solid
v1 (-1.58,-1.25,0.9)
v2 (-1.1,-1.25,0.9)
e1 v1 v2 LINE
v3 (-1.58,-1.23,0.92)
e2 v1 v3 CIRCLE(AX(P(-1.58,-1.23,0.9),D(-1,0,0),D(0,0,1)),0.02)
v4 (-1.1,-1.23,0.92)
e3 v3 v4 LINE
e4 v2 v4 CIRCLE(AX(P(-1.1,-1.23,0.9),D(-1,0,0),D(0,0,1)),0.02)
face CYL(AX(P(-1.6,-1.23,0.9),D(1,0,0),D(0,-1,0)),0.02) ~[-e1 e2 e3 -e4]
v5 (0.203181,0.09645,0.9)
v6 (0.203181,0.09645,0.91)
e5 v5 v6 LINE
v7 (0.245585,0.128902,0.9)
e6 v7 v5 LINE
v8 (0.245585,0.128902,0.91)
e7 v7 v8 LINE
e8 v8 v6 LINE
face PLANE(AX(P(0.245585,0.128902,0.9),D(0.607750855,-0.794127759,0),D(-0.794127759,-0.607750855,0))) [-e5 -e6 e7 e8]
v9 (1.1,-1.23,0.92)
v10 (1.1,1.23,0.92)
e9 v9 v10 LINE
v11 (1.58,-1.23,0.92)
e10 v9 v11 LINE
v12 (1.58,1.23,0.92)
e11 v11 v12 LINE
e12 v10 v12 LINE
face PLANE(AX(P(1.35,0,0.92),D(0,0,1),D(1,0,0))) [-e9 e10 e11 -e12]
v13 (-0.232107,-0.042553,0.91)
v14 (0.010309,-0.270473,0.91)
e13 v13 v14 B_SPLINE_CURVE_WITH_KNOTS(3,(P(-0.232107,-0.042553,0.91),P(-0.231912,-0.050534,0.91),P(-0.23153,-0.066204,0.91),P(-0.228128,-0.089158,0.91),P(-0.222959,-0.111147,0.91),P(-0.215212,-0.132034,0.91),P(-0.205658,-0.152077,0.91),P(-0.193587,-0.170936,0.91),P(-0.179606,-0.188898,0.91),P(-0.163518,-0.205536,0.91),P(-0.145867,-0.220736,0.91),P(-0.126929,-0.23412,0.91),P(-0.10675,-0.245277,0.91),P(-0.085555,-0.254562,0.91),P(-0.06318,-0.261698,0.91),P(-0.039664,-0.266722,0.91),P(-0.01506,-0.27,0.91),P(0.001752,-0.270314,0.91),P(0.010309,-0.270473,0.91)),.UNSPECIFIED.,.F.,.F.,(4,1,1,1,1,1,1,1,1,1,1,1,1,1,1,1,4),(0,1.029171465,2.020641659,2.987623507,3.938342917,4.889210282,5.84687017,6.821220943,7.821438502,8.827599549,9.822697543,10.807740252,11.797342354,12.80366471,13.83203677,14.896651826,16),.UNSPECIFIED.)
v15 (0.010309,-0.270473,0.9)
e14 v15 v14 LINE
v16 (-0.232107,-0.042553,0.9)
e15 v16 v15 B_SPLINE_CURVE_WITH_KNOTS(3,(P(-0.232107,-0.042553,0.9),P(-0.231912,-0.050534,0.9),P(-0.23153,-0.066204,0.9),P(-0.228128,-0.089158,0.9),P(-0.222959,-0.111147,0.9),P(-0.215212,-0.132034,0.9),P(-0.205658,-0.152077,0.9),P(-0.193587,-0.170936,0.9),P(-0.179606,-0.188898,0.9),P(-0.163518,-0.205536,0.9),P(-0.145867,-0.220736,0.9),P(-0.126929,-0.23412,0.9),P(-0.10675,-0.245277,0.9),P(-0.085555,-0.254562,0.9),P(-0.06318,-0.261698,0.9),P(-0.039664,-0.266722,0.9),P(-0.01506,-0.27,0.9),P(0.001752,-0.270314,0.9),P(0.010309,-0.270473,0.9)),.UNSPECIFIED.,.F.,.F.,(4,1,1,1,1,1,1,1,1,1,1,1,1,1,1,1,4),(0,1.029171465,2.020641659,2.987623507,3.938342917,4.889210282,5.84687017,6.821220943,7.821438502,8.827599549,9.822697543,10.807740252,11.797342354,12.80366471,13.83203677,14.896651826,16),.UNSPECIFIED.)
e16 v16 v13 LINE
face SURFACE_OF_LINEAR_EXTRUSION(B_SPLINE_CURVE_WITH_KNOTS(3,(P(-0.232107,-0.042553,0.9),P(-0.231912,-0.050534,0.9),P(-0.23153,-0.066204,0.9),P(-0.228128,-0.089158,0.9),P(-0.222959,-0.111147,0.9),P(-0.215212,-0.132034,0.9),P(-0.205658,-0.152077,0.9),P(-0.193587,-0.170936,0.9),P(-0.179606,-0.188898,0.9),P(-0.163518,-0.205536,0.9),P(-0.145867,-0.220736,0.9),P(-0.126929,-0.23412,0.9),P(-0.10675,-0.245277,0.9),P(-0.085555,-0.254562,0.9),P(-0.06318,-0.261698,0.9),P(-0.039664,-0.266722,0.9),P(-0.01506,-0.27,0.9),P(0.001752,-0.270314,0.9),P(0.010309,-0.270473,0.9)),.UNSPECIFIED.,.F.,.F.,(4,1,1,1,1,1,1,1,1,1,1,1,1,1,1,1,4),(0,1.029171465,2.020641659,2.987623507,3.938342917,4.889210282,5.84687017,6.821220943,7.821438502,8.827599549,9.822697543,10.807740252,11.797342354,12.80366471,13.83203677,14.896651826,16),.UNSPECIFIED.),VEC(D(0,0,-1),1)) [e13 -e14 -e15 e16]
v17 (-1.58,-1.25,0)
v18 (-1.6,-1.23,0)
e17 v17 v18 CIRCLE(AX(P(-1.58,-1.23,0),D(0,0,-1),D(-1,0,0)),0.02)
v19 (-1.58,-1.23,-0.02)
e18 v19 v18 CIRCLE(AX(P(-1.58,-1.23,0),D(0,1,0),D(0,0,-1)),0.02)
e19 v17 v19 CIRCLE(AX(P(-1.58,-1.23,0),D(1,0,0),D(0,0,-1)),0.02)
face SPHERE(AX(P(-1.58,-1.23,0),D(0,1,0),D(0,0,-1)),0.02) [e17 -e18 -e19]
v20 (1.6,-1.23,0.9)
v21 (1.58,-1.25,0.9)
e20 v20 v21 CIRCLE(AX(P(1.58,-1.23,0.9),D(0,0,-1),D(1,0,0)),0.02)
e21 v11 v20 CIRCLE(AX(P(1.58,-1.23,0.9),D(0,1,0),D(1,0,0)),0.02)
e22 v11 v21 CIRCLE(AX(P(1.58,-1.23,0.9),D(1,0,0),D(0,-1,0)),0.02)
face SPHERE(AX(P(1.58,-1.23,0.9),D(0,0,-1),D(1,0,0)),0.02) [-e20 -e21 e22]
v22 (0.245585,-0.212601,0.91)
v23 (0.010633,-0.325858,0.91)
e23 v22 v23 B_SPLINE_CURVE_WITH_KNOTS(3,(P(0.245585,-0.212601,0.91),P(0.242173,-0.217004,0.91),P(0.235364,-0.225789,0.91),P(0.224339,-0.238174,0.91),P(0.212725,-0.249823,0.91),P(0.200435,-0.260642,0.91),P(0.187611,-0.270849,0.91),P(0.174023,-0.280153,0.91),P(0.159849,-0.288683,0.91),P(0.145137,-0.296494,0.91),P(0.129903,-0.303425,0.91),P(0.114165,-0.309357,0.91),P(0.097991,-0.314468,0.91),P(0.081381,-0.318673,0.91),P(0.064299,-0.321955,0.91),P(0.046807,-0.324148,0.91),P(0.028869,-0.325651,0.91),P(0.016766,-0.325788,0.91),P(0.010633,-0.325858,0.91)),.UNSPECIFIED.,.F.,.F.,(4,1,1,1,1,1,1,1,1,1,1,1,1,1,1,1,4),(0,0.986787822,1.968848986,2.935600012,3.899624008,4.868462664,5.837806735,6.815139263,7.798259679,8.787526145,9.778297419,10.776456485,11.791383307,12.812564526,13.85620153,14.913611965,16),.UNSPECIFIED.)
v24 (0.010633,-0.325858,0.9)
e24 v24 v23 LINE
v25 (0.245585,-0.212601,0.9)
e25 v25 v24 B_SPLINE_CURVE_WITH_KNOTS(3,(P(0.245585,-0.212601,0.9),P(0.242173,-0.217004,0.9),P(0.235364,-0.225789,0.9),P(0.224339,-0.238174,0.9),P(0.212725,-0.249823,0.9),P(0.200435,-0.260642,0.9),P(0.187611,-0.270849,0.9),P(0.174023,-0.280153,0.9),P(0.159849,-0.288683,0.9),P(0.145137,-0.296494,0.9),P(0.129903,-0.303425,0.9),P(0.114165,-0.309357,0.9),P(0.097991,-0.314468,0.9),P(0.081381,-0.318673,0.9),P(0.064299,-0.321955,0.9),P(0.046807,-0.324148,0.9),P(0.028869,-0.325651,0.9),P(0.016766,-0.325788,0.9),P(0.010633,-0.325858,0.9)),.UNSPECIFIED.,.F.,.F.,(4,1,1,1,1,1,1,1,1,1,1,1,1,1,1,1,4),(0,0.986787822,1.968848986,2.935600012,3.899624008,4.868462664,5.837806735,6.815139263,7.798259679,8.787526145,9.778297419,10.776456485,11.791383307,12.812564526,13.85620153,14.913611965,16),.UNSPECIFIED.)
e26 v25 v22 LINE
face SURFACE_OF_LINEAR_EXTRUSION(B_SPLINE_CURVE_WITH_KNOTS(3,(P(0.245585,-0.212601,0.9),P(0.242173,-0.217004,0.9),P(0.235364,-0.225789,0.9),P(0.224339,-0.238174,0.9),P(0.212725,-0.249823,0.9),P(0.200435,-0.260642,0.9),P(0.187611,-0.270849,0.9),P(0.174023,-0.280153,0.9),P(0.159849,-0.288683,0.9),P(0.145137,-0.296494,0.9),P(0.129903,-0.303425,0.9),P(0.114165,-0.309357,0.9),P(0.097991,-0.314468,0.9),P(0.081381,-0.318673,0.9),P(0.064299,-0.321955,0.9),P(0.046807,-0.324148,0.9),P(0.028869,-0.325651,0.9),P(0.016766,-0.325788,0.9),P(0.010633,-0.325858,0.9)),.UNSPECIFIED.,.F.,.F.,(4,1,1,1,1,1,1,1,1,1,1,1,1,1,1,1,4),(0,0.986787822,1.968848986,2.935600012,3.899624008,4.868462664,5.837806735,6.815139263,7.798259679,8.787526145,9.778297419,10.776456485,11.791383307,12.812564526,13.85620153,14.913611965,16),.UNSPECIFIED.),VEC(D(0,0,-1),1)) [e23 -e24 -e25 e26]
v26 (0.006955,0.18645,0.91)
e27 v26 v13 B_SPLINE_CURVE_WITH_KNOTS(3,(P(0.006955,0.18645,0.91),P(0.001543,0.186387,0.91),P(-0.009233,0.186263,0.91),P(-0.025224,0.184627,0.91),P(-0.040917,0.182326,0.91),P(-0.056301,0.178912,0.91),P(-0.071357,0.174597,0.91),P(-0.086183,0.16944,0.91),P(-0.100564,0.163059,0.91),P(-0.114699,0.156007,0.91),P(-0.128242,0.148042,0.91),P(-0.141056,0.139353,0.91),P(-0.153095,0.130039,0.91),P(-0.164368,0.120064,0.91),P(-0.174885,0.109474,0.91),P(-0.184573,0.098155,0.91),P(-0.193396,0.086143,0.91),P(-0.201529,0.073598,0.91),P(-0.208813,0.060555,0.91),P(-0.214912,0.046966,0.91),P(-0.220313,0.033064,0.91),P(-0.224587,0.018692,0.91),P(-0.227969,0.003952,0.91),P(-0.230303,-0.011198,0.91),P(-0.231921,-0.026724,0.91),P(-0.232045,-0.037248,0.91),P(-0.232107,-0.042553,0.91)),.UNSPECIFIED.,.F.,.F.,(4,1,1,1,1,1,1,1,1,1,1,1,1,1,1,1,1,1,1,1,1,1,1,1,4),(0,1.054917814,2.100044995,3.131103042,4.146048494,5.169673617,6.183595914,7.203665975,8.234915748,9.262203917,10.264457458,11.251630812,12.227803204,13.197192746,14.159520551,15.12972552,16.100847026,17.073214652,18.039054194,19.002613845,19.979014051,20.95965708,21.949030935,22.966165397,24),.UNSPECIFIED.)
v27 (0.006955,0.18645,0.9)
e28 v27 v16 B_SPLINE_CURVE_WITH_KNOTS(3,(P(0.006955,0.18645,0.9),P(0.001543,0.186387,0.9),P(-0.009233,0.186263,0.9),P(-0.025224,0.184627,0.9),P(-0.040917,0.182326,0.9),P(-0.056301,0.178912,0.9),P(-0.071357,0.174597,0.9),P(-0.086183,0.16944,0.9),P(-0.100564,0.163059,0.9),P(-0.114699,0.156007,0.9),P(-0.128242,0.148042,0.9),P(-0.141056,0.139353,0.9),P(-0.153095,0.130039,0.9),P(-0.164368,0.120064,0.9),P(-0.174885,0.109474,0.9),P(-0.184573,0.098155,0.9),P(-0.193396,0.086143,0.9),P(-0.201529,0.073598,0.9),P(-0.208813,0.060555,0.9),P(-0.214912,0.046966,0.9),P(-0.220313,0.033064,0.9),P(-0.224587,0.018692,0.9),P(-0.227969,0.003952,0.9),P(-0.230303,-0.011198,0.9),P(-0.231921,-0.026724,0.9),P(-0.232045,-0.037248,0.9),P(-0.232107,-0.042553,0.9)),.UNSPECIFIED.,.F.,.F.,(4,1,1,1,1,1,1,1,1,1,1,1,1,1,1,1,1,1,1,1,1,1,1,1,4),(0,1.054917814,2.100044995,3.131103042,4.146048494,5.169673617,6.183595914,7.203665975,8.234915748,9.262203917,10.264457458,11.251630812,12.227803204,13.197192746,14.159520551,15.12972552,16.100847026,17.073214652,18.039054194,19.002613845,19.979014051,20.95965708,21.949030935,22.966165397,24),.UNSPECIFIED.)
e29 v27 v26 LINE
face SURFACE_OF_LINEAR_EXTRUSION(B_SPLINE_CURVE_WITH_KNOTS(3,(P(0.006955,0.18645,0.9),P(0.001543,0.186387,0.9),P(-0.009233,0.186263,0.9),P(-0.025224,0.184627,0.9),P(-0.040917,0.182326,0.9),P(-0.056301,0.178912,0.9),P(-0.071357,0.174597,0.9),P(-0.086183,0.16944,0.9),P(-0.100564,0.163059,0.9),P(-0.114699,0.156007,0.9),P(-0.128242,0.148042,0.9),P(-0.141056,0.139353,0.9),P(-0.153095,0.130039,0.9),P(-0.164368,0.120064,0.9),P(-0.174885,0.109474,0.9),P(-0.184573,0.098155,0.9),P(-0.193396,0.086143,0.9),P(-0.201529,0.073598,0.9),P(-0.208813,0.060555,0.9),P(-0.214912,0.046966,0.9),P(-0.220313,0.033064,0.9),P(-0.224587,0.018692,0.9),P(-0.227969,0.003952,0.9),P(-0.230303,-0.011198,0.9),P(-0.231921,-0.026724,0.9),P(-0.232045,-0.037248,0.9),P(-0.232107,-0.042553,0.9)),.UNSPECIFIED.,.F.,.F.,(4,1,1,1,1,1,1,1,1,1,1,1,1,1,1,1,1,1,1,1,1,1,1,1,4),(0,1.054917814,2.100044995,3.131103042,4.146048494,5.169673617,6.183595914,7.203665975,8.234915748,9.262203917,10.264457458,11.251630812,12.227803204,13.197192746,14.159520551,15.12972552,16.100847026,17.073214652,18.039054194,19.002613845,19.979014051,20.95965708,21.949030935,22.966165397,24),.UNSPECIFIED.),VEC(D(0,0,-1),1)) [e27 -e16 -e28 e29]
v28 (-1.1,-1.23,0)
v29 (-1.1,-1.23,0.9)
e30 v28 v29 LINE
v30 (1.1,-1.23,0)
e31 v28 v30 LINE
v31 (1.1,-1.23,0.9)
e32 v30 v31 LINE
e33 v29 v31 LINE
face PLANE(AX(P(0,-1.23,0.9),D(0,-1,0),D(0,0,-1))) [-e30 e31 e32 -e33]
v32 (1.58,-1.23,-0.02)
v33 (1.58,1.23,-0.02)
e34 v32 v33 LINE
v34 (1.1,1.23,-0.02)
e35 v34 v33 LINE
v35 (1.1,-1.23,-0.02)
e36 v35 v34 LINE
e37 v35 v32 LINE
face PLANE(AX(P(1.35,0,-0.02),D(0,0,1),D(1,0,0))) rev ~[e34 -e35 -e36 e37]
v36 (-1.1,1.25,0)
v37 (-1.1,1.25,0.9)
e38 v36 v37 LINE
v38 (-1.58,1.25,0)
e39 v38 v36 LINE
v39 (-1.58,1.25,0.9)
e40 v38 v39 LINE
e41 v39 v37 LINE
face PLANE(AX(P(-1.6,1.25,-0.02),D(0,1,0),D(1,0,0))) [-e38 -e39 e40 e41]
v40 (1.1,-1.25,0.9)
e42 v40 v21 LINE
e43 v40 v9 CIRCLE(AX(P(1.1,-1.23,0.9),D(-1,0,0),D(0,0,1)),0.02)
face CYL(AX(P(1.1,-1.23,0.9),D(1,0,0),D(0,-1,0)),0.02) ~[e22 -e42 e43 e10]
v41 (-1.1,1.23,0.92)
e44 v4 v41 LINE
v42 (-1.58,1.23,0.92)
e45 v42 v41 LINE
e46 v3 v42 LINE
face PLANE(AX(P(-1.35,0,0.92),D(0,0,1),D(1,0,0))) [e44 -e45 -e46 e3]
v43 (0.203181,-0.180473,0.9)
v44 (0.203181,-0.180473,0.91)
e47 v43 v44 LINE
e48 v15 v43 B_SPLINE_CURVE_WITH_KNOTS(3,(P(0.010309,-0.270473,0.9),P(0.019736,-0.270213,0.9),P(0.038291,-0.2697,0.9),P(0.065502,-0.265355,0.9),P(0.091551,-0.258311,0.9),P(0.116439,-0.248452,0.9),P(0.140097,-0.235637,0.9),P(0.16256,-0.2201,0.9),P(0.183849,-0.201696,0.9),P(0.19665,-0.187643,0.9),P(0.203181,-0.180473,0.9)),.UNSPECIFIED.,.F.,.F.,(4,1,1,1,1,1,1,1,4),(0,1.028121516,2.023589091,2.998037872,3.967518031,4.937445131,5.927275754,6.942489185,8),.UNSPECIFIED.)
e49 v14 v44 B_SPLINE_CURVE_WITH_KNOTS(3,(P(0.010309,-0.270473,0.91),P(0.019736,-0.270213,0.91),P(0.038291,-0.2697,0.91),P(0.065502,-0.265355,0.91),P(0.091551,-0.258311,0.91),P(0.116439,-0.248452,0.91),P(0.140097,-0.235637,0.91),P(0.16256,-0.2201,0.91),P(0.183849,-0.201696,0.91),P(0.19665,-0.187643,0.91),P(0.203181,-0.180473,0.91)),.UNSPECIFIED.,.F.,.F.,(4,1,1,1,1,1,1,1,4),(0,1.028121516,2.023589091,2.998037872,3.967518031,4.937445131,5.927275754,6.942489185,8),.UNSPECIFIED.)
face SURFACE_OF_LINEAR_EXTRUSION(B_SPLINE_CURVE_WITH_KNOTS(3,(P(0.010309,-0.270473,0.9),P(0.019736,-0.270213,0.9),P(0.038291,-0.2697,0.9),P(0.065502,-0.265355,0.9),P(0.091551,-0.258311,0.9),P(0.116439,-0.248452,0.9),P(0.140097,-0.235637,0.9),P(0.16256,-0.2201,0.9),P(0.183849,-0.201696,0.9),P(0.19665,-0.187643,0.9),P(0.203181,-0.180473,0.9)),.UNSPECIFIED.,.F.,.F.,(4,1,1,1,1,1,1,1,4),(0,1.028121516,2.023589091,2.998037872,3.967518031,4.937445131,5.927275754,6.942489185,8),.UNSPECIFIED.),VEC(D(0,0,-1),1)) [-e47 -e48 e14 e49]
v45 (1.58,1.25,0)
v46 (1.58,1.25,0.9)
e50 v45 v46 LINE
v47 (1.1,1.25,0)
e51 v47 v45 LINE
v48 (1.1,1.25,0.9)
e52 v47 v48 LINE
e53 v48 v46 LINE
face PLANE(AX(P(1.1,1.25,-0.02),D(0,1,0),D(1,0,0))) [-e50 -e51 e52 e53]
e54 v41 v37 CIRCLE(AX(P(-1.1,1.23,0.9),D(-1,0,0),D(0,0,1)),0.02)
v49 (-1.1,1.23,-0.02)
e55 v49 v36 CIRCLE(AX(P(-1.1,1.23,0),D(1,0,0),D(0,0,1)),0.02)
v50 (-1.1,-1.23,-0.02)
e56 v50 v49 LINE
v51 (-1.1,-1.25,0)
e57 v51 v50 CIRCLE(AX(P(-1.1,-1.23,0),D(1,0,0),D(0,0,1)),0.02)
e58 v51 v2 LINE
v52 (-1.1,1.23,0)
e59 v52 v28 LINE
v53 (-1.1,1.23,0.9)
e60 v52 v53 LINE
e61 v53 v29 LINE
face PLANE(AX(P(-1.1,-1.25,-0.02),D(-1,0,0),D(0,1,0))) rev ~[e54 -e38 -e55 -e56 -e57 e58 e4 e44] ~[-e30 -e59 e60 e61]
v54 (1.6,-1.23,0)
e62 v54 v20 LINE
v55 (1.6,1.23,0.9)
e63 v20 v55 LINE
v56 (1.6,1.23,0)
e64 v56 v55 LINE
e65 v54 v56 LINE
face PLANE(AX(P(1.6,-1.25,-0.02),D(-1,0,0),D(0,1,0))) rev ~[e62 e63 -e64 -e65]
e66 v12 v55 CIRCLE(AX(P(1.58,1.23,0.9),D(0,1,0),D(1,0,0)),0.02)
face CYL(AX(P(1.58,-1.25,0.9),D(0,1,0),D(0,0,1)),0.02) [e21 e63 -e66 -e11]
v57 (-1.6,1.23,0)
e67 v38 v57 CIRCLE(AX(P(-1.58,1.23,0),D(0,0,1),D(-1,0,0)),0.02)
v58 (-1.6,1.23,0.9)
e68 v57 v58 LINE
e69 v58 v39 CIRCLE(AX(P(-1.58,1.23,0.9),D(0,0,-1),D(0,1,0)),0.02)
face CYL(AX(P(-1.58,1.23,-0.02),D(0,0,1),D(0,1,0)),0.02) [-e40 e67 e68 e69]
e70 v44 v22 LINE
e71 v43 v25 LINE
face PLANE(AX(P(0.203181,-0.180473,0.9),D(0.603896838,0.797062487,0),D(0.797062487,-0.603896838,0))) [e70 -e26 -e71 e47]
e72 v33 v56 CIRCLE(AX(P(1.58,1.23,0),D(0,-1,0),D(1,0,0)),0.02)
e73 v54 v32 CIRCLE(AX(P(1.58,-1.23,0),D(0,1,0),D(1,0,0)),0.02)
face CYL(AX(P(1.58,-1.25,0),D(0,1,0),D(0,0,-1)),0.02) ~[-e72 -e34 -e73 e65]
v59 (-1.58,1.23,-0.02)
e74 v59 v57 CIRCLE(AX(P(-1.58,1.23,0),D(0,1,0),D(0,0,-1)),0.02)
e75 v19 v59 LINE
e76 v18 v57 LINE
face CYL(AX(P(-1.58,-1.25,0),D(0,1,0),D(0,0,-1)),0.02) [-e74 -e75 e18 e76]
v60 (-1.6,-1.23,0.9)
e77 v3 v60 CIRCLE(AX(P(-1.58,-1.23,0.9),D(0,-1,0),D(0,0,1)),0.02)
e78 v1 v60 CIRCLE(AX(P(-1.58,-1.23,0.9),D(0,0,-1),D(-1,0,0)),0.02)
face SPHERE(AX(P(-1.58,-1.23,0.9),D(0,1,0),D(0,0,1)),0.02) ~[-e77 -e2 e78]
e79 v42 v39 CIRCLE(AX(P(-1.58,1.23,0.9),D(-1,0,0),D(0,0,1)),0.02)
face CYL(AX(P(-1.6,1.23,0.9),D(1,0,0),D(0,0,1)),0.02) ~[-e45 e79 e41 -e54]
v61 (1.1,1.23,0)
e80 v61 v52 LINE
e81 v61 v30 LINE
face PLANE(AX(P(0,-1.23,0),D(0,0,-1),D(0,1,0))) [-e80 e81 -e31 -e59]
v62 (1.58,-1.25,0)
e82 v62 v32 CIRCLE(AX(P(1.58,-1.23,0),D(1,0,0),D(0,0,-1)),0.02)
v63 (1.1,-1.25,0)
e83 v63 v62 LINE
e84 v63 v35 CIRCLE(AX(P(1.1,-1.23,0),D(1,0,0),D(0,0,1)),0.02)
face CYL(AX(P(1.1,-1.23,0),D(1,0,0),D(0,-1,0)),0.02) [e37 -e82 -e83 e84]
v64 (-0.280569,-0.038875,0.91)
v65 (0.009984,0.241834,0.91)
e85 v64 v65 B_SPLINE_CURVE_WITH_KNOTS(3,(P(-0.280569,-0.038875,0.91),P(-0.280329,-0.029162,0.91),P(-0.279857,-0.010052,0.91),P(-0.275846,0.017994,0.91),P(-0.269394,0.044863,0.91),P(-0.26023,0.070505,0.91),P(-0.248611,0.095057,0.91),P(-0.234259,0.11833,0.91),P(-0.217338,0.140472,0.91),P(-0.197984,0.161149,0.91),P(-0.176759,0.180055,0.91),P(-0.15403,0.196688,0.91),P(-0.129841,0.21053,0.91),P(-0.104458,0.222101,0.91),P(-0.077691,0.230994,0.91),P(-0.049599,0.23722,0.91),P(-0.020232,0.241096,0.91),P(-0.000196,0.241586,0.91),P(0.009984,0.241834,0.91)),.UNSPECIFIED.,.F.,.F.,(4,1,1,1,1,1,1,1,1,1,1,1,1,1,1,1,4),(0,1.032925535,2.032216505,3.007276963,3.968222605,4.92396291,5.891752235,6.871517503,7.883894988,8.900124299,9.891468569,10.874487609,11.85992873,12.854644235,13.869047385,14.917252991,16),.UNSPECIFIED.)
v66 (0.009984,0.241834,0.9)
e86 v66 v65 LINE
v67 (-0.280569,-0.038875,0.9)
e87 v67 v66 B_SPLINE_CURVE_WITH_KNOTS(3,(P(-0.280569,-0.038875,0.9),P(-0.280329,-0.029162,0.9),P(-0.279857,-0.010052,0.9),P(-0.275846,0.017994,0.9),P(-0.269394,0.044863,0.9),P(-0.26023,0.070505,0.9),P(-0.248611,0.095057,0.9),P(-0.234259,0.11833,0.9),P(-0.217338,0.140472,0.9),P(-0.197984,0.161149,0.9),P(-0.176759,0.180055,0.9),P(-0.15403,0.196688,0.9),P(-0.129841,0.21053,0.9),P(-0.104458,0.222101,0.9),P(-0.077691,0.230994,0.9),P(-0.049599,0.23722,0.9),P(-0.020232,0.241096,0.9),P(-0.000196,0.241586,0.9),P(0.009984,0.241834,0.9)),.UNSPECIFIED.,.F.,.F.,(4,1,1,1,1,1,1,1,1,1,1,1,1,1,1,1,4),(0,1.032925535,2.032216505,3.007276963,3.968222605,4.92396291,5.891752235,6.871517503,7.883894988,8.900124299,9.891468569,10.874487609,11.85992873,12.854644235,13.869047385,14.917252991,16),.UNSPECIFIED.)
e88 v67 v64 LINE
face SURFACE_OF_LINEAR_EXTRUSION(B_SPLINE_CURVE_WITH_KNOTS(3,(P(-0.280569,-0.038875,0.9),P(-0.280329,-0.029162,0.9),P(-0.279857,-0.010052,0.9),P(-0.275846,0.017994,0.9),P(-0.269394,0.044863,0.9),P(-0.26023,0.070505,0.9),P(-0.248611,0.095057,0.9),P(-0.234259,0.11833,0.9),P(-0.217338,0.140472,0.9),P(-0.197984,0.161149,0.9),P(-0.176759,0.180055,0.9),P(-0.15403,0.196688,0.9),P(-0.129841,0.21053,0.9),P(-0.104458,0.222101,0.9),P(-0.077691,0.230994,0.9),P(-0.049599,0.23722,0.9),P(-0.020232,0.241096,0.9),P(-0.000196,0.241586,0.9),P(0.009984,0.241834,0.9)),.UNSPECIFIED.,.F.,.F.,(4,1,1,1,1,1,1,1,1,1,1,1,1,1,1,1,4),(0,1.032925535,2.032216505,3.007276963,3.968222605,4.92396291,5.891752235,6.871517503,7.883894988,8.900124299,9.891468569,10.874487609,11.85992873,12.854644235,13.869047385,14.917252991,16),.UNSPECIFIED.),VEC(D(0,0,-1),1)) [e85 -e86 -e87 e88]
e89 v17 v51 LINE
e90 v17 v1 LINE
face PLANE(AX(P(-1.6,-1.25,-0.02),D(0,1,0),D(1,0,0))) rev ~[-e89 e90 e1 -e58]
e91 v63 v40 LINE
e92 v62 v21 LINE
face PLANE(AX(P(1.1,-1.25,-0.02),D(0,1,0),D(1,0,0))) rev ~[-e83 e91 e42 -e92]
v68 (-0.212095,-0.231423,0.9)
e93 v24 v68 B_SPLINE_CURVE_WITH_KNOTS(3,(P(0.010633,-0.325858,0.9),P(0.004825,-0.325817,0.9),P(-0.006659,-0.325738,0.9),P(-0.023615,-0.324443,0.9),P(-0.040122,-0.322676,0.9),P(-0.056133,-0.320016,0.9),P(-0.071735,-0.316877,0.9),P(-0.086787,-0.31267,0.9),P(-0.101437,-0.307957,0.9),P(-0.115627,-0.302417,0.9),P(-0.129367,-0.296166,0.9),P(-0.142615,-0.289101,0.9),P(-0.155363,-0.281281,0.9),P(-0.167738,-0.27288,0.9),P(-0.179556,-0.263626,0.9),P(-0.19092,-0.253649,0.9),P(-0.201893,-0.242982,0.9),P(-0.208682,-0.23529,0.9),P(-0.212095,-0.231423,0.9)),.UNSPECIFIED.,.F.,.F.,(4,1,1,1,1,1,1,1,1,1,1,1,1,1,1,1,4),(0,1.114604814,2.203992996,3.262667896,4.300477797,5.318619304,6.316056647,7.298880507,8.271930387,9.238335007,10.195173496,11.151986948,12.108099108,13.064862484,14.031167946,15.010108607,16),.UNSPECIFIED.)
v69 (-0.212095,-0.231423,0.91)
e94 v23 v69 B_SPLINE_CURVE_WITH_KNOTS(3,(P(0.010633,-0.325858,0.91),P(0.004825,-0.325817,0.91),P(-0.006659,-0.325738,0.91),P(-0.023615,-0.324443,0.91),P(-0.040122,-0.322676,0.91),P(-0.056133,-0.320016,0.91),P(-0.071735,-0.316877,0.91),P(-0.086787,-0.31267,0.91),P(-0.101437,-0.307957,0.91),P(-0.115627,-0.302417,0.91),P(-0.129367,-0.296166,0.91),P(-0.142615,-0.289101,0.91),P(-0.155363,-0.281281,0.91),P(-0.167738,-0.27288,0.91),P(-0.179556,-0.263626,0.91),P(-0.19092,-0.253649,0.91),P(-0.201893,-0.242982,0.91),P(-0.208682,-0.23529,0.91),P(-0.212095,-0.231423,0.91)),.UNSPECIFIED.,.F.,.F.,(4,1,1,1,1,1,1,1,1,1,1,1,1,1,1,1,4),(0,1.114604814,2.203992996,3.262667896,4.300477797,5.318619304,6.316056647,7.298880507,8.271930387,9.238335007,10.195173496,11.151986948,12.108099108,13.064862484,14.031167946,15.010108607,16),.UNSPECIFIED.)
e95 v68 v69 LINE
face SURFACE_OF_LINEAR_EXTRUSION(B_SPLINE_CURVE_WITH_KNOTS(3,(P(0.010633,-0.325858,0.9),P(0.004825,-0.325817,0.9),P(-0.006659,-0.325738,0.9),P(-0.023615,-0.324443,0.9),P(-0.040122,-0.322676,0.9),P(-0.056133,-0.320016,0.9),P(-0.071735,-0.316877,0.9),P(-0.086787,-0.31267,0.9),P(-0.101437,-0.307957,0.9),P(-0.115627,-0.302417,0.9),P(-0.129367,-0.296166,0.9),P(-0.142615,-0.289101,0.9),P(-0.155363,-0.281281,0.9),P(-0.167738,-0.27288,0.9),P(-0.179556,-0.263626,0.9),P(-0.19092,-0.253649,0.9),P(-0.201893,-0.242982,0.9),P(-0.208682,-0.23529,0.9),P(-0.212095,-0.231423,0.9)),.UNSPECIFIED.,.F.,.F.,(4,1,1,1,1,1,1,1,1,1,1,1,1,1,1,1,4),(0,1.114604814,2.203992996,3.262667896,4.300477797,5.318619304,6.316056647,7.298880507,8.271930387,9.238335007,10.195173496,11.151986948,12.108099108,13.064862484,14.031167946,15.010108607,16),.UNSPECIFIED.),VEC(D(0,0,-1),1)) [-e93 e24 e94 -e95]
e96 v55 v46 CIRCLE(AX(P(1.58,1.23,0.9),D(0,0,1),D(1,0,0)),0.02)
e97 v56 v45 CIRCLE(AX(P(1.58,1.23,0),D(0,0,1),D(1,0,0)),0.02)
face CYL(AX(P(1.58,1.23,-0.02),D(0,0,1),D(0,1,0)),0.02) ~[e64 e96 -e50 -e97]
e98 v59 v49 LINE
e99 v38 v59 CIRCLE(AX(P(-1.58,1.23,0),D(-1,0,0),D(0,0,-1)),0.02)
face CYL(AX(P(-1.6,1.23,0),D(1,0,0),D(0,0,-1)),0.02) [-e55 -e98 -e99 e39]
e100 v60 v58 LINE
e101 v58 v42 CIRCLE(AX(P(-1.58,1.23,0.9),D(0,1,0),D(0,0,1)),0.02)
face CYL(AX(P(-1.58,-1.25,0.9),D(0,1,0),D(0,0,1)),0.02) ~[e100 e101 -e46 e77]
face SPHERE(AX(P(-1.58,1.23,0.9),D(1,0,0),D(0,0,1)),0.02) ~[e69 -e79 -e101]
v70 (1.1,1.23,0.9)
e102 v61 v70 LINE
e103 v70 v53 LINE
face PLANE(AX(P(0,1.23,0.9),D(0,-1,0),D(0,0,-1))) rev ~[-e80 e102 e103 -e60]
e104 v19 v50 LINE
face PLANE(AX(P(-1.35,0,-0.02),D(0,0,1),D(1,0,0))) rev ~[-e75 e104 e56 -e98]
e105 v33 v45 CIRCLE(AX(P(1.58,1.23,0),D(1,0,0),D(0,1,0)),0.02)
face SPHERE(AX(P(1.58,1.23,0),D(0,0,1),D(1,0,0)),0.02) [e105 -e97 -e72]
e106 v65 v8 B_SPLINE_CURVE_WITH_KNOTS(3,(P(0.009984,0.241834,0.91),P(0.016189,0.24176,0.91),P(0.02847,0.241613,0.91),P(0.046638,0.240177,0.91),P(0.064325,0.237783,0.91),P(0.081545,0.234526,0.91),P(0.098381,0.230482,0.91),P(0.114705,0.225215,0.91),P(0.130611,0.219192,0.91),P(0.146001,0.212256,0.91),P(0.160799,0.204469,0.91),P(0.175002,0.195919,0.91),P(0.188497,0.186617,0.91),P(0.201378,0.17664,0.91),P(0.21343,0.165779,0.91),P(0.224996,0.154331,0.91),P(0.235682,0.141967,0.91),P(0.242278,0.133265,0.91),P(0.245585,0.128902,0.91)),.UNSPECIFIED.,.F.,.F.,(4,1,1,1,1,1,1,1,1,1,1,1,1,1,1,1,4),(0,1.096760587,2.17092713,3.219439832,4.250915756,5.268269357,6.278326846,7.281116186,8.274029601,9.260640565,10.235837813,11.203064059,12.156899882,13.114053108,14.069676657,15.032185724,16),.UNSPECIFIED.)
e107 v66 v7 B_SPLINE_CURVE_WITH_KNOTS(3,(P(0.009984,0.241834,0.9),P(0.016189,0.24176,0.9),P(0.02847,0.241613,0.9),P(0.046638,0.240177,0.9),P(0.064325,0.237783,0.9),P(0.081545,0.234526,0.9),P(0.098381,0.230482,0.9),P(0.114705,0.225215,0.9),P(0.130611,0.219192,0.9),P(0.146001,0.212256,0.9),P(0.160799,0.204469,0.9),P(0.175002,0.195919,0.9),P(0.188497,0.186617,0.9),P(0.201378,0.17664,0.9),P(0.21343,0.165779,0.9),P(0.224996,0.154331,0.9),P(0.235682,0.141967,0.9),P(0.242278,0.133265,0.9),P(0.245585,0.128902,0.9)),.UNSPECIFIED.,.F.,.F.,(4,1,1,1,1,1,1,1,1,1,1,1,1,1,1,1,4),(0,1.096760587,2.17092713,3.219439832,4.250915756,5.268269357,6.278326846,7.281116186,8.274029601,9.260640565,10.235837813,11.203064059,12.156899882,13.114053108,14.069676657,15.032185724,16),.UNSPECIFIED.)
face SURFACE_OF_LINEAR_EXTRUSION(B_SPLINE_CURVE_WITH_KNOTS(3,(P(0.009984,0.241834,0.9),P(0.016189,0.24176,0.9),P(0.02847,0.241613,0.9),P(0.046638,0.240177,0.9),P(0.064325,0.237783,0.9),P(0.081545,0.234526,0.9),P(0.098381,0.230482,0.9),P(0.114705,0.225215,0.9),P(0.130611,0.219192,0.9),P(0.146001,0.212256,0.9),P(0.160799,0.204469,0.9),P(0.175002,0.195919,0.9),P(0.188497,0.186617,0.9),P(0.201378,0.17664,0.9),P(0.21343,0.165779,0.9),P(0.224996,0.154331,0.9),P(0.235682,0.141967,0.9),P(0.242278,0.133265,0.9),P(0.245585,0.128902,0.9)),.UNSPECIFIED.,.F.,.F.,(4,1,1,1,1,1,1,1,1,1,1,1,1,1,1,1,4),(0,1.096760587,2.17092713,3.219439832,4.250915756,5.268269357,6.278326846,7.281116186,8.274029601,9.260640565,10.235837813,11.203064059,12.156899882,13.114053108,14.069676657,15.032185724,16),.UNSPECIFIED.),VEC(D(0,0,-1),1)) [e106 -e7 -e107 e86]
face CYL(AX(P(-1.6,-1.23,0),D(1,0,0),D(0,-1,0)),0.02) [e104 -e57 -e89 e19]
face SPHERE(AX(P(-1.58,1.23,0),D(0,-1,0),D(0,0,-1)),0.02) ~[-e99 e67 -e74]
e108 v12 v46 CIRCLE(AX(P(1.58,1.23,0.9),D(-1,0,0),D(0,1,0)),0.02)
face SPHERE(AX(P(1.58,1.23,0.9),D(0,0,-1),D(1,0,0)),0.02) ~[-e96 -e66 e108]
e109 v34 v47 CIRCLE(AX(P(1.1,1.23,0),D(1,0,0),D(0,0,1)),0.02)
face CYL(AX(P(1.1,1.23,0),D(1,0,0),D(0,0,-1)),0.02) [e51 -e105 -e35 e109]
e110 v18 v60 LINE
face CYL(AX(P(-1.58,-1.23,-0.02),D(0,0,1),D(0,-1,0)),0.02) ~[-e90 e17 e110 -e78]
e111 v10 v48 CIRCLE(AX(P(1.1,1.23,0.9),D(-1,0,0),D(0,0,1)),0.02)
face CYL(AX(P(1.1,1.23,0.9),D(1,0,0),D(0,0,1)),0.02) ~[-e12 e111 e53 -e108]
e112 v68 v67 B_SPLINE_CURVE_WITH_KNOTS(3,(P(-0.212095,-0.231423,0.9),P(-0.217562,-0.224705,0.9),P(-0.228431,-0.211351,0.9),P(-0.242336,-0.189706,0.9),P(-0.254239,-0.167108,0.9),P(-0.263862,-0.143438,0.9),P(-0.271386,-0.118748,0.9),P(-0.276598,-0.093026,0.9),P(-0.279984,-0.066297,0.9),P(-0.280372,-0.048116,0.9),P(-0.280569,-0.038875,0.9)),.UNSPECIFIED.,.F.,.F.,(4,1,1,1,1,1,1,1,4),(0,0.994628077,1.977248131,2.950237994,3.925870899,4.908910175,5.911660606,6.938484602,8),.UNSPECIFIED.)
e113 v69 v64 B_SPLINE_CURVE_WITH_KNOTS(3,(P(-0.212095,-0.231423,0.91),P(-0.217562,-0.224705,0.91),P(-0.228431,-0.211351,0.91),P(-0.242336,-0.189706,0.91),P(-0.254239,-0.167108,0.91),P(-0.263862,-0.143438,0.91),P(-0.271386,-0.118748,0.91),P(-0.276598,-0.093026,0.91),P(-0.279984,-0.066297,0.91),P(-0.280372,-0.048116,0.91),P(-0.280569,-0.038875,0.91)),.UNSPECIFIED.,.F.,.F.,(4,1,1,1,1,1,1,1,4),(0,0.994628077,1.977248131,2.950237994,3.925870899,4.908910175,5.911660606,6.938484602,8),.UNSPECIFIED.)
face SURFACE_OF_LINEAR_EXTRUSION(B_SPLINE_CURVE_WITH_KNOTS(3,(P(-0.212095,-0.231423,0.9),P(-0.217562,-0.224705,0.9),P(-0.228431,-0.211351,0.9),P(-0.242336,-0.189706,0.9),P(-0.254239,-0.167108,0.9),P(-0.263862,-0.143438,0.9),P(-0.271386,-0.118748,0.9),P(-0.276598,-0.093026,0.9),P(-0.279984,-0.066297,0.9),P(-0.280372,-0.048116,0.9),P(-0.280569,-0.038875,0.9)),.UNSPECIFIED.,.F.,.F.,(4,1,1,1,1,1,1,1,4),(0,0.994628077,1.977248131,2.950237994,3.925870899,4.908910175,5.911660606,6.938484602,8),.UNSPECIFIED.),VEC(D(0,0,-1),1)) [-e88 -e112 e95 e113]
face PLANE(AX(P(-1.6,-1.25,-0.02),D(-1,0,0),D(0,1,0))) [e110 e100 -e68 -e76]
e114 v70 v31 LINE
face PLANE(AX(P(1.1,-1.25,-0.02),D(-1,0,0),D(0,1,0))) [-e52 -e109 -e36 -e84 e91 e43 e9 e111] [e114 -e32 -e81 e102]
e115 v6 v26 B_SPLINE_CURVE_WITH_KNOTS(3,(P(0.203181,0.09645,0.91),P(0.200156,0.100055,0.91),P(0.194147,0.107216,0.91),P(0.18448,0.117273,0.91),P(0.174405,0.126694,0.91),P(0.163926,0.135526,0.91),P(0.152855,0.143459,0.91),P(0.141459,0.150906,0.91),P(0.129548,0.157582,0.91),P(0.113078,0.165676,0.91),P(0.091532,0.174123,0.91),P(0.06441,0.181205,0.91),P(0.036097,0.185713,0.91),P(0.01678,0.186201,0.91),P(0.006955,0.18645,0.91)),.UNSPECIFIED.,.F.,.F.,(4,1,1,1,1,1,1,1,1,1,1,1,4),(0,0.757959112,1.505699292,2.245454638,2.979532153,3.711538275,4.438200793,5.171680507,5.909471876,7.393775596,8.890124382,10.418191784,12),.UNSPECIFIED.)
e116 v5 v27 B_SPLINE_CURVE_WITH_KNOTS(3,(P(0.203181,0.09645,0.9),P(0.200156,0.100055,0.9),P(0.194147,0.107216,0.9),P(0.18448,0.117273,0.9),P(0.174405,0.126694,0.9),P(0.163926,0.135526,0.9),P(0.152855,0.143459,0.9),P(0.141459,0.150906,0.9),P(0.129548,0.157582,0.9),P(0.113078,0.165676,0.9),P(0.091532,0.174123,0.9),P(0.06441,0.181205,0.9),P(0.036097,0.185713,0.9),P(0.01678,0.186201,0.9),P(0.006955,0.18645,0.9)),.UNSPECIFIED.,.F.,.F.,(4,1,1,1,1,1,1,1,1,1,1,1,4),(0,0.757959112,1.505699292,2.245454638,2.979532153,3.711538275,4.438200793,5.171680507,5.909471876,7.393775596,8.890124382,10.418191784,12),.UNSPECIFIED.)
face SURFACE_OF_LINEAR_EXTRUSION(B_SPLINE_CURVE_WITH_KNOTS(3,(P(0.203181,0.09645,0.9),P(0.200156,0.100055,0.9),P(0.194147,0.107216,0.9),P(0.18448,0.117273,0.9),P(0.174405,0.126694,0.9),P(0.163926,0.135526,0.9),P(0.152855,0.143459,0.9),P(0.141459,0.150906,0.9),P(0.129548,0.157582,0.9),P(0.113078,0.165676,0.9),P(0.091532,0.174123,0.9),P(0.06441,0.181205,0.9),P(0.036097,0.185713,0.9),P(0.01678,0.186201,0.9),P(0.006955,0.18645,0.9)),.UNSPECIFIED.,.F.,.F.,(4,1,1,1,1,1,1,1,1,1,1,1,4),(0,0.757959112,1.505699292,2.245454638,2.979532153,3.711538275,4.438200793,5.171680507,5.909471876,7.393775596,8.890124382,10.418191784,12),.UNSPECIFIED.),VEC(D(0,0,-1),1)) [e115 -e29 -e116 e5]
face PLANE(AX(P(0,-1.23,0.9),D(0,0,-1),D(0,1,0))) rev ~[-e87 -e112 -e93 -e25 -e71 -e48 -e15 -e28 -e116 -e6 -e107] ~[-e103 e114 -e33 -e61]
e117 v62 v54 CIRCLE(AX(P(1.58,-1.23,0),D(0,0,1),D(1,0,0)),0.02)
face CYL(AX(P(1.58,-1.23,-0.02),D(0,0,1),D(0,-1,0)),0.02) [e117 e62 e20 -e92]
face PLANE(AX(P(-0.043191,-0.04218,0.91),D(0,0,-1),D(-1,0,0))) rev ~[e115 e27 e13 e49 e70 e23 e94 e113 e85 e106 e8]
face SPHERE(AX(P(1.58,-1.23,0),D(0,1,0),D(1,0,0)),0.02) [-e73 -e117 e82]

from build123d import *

# Parameters (mm, degrees)
EXTRUDE_1_DEPTH        = 0.92
EXTRUDE_1_DEPTH_BACK   = 0.02
SKETCH_3_W             = 0.5
SKETCH_3_H             = 2.5
EXTRUDE_1_2_DEPTH      = 0.92
EXTRUDE_1_2_DEPTH_BACK = 0.02
SKETCH_5_W             = 0.9
SKETCH_5_H             = 2.46
EXTRUDE_3_DEPTH        = 1.11
FILLET_3_R             = 0.02
EXTRUDE_4_DEPTH        = 0.01


with BuildPart() as part:
    # 草图3 → 凸台-拉伸1 (new, two sides: drawn at the far end of the back side and taken through both)
    with BuildSketch(Plane.XY.offset(-EXTRUDE_1_DEPTH_BACK)):
        with Locations((-1.35, 0)):
            Rectangle(SKETCH_3_W, SKETCH_3_H)
    extrude(amount=EXTRUDE_1_DEPTH + EXTRUDE_1_DEPTH_BACK)



with BuildPart() as body_2:
    # 草图3 → Extrude 1 2 (new, two sides: drawn at the far end of the back side and taken through both)
    with BuildSketch(Plane.XY.offset(-EXTRUDE_1_2_DEPTH_BACK)):
        with Locations((1.35, 0)):
            Rectangle(SKETCH_3_W, SKETCH_3_H)
    extrude(amount=EXTRUDE_1_2_DEPTH + EXTRUDE_1_2_DEPTH_BACK)


with BuildPart() as part_1:
    add(part.part)

    add(body_2.part)  # 凸台-拉伸3 merges body 2
    # 草图5 → 凸台-拉伸3 (add, symmetric)
    with BuildSketch(Plane(origin=(0, 0, 0), x_dir=(0, 0, -1), z_dir=(1, 0, 0))):
        with Locations((-0.45, 0)):
            Rectangle(SKETCH_5_W, SKETCH_5_H)
    extrude(amount=EXTRUDE_3_DEPTH, both=True)

    # 圆角3
    fillet_3_edges = [part_1.edges().sort_by_distance(p)[0] for p in [
        (-1.6, 0, -0.02),
        (-1.35, 1.25, 0.92),
        (-1.35, -1.25, -0.02),
        (-1.6, 0, 0.92),
        (-1.35, -1.25, 0.92),
        (1.6, 1.25, 0.45),
        (1.6, 0, -0.02),
        (1.6, -1.25, 0.45),
        (1.35, -1.25, -0.02),
        (1.35, 1.25, -0.02),
        (1.6, 0, 0.92),
        (1.35, 1.25, 0.92),
        (1.35, -1.25, 0.92),
        (-1.35, 1.25, -0.02),
        (-1.6, -1.25, 0.45),
        (-1.6, 1.25, 0.45),
    ]]
    fillet(fillet_3_edges, radius=FILLET_3_R)

    # 草图6 → 凸台-拉伸4 (add)
    with BuildSketch(Plane.XY.offset(0.9)):
        with BuildLine():
            Line((0.245585191, 0.128901731), (0.203181345, 0.096449807))
            add(Edge.make_bspline(
                [(0.203181345, 0.096449807), (0.200156436, 0.100054843), (0.194147402, 0.10721631), (0.184479982, 0.117272582), (0.174404871, 0.12669408), (0.163925921, 0.135525684), (0.152854514, 0.143458557), (0.141458848, 0.150906098), (0.129548292, 0.157581692), (0.113078025, 0.165675981), (0.091532357, 0.174122531), (0.064409724, 0.181204744), (0.036096583, 0.185713154), (0.016780382, 0.186201444), (0.006955383, 0.186449807)],
                knots=[0, 0, 0, 0, 0.757959112, 1.505699292, 2.245454638, 2.979532153, 3.711538275, 4.438200793, 5.171680507, 5.909471876, 7.393775596, 8.890124382, 10.418191784, 12, 12, 12, 12], degree=3))
            add(Edge.make_bspline(
                [(0.006955383, 0.186449807), (0.001542531, 0.186387482), (-0.009232936, 0.186263409), (-0.025224415, 0.184626573), (-0.040917286, 0.182325986), (-0.05630134, 0.178912365), (-0.071356997, 0.174596589), (-0.086182682, 0.169439525), (-0.100563746, 0.163059064), (-0.114699131, 0.156006933), (-0.128242209, 0.148041555), (-0.141056417, 0.13935321), (-0.153095018, 0.130039121), (-0.164367535, 0.120064378), (-0.174885493, 0.109473905), (-0.184572678, 0.098154835), (-0.19339557, 0.086143356), (-0.201529053, 0.073597859), (-0.208813304, 0.060554886), (-0.214912199, 0.046966161), (-0.22031299, 0.033064385), (-0.224586587, 0.018692491), (-0.227969227, 0.003951607), (-0.230303209, -0.011197828), (-0.23192143, -0.026724168), (-0.232044886, -0.03724789), (-0.232107117, -0.042552596)],
                knots=[0, 0, 0, 0, 1.054917814, 2.100044995, 3.131103042, 4.146048494, 5.169673617, 6.183595914, 7.203665975, 8.234915748, 9.262203917, 10.264457458, 11.251630812, 12.227803204, 13.197192746, 14.159520551, 15.12972552, 16.100847026, 17.073214652, 18.039054194, 19.002613845, 19.979014051, 20.95965708, 21.949030935, 22.966165397, 24, 24, 24, 24], degree=3))
            add(Edge.make_bspline(
                [(-0.232107117, -0.042552596), (-0.231912436, -0.050534), (-0.231530207, -0.066204427), (-0.228128464, -0.089157607), (-0.222959107, -0.111146511), (-0.215211561, -0.132033687), (-0.205658336, -0.152076691), (-0.193586927, -0.1709364), (-0.17960609, -0.188897812), (-0.163518036, -0.205536439), (-0.145866853, -0.220735699), (-0.126928604, -0.234120074), (-0.106750457, -0.245277228), (-0.085555205, -0.254561517), (-0.063179748, -0.261698269), (-0.039664321, -0.266722448), (-0.01506007, -0.269999813), (0.001752351, -0.270313582), (0.010308749, -0.270473269)],
                knots=[0, 0, 0, 0, 1.029171465, 2.020641659, 2.987623507, 3.938342917, 4.889210282, 5.84687017, 6.821220943, 7.821438502, 8.827599549, 9.822697543, 10.807740252, 11.797342354, 12.80366471, 13.83203677, 14.896651826, 16, 16, 16, 16], degree=3))
            add(Edge.make_bspline(
                [(0.010308749, -0.270473269), (0.019736021, -0.270212715), (0.038291147, -0.269699881), (0.065502214, -0.265355311), (0.091551161, -0.258310947), (0.116439388, -0.24845241), (0.140096734, -0.235636623), (0.162560218, -0.220100379), (0.183848804, -0.201695893), (0.196650087, -0.187643068), (0.203181345, -0.180473269)],
                knots=[0, 0, 0, 0, 1.028121516, 2.023589091, 2.998037872, 3.967518031, 4.937445131, 5.927275754, 6.942489185, 8, 8, 8, 8], degree=3))
            Line((0.203181345, -0.180473269), (0.245585191, -0.212600673))
            add(Edge.make_bspline(
                [(0.245585191, -0.212600673), (0.242172682, -0.217003749), (0.235364011, -0.225788809), (0.22433906, -0.238173587), (0.212724849, -0.249822781), (0.20043511, -0.260642471), (0.187611223, -0.27084916), (0.174022923, -0.280152871), (0.159848844, -0.288683465), (0.14513701, -0.296494476), (0.129903052, -0.303424566), (0.114165225, -0.309357433), (0.097991365, -0.31446813), (0.081380732, -0.318672715), (0.064298873, -0.321954539), (0.046807428, -0.324148432), (0.028868647, -0.32565147), (0.016766257, -0.325788463), (0.010633268, -0.325857885)],
                knots=[0, 0, 0, 0, 0.986787822, 1.968848986, 2.935600012, 3.899624008, 4.868462664, 5.837806735, 6.815139263, 7.798259679, 8.787526145, 9.778297419, 10.776456485, 11.791383307, 12.812564526, 13.85620153, 14.913611965, 16, 16, 16, 16], degree=3))
            add(Edge.make_bspline(
                [(0.010633268, -0.325857885), (0.004825388, -0.325817463), (-0.006658976, -0.325737534), (-0.023614783, -0.324442743), (-0.040121747, -0.322676212), (-0.056132689, -0.320016306), (-0.071734983, -0.316877465), (-0.086787187, -0.3126699), (-0.10143742, -0.3079566), (-0.115626821, -0.302416973), (-0.12936746, -0.296165905), (-0.14261502, -0.289100921), (-0.155363406, -0.281281434), (-0.167737957, -0.272879804), (-0.17955587, -0.263626163), (-0.190919557, -0.253649025), (-0.201892739, -0.242982017), (-0.208681724, -0.235290126), (-0.212095098, -0.231422789)],
                knots=[0, 0, 0, 0, 1.114604814, 2.203992996, 3.262667896, 4.300477797, 5.318619304, 6.316056647, 7.298880507, 8.271930387, 9.238335007, 10.195173496, 11.151986948, 12.108099108, 13.064862484, 14.031167946, 15.010108607, 16, 16, 16, 16], degree=3))
            add(Edge.make_bspline(
                [(-0.212095098, -0.231422789), (-0.217562311, -0.224705005), (-0.228430733, -0.211350541), (-0.242335839, -0.189706419), (-0.254238604, -0.167108466), (-0.263862318, -0.143437963), (-0.271385711, -0.118748023), (-0.276597667, -0.093026201), (-0.279984486, -0.066296519), (-0.280371788, -0.048115985), (-0.280568655, -0.038874712)],
                knots=[0, 0, 0, 0, 0.994628077, 1.977248131, 2.950237994, 3.925870899, 4.908910175, 5.911660606, 6.938484602, 8, 8, 8, 8], degree=3))
            add(Edge.make_bspline(
                [(-0.280568655, -0.038874712), (-0.280328711, -0.029161585), (-0.279856636, -0.010051613), (-0.275845856, 0.017993511), (-0.269393813, 0.044862584), (-0.260229722, 0.070505447), (-0.248611182, 0.095056976), (-0.234258504, 0.118329619), (-0.217338431, 0.140472211), (-0.197983664, 0.161148773), (-0.176758989, 0.180054844), (-0.1540298, 0.196687801), (-0.129840586, 0.210529933), (-0.104457832, 0.222100769), (-0.077691469, 0.230994486), (-0.049598607, 0.237220406), (-0.020232031, 0.241095619), (-0.000196114, 0.241585508), (0.009984229, 0.241834423)],
                knots=[0, 0, 0, 0, 1.032925535, 2.032216505, 3.007276963, 3.968222605, 4.92396291, 5.891752235, 6.871517503, 7.883894988, 8.900124299, 9.891468569, 10.874487609, 11.85992873, 12.854644235, 13.869047385, 14.917252991, 16, 16, 16, 16], degree=3))
            add(Edge.make_bspline(
                [(0.009984229, 0.241834423), (0.016188748, 0.241760036), (0.028469967, 0.241612794), (0.046637519, 0.240176989), (0.064325193, 0.237783462), (0.081545173, 0.234525554), (0.098381234, 0.230482138), (0.114704699, 0.225214778), (0.130611354, 0.219191999), (0.146000877, 0.21225555), (0.16079943, 0.204469253), (0.175002405, 0.195919414), (0.188496983, 0.186616632), (0.20137812, 0.176640028), (0.213430335, 0.165778536), (0.224995821, 0.154330907), (0.235681816, 0.141967403), (0.242278023, 0.133264927), (0.245585191, 0.128901731)],
                knots=[0, 0, 0, 0, 1.096760587, 2.17092713, 3.219439832, 4.250915756, 5.268269357, 6.278326846, 7.281116186, 8.274029601, 9.260640565, 10.235837813, 11.203064059, 12.156899882, 13.114053108, 14.069676657, 15.032185724, 16, 16, 16, 16], degree=3))
        make_face()
    extrude(amount=EXTRUDE_4_DEPTH)


solid = part_1.part
